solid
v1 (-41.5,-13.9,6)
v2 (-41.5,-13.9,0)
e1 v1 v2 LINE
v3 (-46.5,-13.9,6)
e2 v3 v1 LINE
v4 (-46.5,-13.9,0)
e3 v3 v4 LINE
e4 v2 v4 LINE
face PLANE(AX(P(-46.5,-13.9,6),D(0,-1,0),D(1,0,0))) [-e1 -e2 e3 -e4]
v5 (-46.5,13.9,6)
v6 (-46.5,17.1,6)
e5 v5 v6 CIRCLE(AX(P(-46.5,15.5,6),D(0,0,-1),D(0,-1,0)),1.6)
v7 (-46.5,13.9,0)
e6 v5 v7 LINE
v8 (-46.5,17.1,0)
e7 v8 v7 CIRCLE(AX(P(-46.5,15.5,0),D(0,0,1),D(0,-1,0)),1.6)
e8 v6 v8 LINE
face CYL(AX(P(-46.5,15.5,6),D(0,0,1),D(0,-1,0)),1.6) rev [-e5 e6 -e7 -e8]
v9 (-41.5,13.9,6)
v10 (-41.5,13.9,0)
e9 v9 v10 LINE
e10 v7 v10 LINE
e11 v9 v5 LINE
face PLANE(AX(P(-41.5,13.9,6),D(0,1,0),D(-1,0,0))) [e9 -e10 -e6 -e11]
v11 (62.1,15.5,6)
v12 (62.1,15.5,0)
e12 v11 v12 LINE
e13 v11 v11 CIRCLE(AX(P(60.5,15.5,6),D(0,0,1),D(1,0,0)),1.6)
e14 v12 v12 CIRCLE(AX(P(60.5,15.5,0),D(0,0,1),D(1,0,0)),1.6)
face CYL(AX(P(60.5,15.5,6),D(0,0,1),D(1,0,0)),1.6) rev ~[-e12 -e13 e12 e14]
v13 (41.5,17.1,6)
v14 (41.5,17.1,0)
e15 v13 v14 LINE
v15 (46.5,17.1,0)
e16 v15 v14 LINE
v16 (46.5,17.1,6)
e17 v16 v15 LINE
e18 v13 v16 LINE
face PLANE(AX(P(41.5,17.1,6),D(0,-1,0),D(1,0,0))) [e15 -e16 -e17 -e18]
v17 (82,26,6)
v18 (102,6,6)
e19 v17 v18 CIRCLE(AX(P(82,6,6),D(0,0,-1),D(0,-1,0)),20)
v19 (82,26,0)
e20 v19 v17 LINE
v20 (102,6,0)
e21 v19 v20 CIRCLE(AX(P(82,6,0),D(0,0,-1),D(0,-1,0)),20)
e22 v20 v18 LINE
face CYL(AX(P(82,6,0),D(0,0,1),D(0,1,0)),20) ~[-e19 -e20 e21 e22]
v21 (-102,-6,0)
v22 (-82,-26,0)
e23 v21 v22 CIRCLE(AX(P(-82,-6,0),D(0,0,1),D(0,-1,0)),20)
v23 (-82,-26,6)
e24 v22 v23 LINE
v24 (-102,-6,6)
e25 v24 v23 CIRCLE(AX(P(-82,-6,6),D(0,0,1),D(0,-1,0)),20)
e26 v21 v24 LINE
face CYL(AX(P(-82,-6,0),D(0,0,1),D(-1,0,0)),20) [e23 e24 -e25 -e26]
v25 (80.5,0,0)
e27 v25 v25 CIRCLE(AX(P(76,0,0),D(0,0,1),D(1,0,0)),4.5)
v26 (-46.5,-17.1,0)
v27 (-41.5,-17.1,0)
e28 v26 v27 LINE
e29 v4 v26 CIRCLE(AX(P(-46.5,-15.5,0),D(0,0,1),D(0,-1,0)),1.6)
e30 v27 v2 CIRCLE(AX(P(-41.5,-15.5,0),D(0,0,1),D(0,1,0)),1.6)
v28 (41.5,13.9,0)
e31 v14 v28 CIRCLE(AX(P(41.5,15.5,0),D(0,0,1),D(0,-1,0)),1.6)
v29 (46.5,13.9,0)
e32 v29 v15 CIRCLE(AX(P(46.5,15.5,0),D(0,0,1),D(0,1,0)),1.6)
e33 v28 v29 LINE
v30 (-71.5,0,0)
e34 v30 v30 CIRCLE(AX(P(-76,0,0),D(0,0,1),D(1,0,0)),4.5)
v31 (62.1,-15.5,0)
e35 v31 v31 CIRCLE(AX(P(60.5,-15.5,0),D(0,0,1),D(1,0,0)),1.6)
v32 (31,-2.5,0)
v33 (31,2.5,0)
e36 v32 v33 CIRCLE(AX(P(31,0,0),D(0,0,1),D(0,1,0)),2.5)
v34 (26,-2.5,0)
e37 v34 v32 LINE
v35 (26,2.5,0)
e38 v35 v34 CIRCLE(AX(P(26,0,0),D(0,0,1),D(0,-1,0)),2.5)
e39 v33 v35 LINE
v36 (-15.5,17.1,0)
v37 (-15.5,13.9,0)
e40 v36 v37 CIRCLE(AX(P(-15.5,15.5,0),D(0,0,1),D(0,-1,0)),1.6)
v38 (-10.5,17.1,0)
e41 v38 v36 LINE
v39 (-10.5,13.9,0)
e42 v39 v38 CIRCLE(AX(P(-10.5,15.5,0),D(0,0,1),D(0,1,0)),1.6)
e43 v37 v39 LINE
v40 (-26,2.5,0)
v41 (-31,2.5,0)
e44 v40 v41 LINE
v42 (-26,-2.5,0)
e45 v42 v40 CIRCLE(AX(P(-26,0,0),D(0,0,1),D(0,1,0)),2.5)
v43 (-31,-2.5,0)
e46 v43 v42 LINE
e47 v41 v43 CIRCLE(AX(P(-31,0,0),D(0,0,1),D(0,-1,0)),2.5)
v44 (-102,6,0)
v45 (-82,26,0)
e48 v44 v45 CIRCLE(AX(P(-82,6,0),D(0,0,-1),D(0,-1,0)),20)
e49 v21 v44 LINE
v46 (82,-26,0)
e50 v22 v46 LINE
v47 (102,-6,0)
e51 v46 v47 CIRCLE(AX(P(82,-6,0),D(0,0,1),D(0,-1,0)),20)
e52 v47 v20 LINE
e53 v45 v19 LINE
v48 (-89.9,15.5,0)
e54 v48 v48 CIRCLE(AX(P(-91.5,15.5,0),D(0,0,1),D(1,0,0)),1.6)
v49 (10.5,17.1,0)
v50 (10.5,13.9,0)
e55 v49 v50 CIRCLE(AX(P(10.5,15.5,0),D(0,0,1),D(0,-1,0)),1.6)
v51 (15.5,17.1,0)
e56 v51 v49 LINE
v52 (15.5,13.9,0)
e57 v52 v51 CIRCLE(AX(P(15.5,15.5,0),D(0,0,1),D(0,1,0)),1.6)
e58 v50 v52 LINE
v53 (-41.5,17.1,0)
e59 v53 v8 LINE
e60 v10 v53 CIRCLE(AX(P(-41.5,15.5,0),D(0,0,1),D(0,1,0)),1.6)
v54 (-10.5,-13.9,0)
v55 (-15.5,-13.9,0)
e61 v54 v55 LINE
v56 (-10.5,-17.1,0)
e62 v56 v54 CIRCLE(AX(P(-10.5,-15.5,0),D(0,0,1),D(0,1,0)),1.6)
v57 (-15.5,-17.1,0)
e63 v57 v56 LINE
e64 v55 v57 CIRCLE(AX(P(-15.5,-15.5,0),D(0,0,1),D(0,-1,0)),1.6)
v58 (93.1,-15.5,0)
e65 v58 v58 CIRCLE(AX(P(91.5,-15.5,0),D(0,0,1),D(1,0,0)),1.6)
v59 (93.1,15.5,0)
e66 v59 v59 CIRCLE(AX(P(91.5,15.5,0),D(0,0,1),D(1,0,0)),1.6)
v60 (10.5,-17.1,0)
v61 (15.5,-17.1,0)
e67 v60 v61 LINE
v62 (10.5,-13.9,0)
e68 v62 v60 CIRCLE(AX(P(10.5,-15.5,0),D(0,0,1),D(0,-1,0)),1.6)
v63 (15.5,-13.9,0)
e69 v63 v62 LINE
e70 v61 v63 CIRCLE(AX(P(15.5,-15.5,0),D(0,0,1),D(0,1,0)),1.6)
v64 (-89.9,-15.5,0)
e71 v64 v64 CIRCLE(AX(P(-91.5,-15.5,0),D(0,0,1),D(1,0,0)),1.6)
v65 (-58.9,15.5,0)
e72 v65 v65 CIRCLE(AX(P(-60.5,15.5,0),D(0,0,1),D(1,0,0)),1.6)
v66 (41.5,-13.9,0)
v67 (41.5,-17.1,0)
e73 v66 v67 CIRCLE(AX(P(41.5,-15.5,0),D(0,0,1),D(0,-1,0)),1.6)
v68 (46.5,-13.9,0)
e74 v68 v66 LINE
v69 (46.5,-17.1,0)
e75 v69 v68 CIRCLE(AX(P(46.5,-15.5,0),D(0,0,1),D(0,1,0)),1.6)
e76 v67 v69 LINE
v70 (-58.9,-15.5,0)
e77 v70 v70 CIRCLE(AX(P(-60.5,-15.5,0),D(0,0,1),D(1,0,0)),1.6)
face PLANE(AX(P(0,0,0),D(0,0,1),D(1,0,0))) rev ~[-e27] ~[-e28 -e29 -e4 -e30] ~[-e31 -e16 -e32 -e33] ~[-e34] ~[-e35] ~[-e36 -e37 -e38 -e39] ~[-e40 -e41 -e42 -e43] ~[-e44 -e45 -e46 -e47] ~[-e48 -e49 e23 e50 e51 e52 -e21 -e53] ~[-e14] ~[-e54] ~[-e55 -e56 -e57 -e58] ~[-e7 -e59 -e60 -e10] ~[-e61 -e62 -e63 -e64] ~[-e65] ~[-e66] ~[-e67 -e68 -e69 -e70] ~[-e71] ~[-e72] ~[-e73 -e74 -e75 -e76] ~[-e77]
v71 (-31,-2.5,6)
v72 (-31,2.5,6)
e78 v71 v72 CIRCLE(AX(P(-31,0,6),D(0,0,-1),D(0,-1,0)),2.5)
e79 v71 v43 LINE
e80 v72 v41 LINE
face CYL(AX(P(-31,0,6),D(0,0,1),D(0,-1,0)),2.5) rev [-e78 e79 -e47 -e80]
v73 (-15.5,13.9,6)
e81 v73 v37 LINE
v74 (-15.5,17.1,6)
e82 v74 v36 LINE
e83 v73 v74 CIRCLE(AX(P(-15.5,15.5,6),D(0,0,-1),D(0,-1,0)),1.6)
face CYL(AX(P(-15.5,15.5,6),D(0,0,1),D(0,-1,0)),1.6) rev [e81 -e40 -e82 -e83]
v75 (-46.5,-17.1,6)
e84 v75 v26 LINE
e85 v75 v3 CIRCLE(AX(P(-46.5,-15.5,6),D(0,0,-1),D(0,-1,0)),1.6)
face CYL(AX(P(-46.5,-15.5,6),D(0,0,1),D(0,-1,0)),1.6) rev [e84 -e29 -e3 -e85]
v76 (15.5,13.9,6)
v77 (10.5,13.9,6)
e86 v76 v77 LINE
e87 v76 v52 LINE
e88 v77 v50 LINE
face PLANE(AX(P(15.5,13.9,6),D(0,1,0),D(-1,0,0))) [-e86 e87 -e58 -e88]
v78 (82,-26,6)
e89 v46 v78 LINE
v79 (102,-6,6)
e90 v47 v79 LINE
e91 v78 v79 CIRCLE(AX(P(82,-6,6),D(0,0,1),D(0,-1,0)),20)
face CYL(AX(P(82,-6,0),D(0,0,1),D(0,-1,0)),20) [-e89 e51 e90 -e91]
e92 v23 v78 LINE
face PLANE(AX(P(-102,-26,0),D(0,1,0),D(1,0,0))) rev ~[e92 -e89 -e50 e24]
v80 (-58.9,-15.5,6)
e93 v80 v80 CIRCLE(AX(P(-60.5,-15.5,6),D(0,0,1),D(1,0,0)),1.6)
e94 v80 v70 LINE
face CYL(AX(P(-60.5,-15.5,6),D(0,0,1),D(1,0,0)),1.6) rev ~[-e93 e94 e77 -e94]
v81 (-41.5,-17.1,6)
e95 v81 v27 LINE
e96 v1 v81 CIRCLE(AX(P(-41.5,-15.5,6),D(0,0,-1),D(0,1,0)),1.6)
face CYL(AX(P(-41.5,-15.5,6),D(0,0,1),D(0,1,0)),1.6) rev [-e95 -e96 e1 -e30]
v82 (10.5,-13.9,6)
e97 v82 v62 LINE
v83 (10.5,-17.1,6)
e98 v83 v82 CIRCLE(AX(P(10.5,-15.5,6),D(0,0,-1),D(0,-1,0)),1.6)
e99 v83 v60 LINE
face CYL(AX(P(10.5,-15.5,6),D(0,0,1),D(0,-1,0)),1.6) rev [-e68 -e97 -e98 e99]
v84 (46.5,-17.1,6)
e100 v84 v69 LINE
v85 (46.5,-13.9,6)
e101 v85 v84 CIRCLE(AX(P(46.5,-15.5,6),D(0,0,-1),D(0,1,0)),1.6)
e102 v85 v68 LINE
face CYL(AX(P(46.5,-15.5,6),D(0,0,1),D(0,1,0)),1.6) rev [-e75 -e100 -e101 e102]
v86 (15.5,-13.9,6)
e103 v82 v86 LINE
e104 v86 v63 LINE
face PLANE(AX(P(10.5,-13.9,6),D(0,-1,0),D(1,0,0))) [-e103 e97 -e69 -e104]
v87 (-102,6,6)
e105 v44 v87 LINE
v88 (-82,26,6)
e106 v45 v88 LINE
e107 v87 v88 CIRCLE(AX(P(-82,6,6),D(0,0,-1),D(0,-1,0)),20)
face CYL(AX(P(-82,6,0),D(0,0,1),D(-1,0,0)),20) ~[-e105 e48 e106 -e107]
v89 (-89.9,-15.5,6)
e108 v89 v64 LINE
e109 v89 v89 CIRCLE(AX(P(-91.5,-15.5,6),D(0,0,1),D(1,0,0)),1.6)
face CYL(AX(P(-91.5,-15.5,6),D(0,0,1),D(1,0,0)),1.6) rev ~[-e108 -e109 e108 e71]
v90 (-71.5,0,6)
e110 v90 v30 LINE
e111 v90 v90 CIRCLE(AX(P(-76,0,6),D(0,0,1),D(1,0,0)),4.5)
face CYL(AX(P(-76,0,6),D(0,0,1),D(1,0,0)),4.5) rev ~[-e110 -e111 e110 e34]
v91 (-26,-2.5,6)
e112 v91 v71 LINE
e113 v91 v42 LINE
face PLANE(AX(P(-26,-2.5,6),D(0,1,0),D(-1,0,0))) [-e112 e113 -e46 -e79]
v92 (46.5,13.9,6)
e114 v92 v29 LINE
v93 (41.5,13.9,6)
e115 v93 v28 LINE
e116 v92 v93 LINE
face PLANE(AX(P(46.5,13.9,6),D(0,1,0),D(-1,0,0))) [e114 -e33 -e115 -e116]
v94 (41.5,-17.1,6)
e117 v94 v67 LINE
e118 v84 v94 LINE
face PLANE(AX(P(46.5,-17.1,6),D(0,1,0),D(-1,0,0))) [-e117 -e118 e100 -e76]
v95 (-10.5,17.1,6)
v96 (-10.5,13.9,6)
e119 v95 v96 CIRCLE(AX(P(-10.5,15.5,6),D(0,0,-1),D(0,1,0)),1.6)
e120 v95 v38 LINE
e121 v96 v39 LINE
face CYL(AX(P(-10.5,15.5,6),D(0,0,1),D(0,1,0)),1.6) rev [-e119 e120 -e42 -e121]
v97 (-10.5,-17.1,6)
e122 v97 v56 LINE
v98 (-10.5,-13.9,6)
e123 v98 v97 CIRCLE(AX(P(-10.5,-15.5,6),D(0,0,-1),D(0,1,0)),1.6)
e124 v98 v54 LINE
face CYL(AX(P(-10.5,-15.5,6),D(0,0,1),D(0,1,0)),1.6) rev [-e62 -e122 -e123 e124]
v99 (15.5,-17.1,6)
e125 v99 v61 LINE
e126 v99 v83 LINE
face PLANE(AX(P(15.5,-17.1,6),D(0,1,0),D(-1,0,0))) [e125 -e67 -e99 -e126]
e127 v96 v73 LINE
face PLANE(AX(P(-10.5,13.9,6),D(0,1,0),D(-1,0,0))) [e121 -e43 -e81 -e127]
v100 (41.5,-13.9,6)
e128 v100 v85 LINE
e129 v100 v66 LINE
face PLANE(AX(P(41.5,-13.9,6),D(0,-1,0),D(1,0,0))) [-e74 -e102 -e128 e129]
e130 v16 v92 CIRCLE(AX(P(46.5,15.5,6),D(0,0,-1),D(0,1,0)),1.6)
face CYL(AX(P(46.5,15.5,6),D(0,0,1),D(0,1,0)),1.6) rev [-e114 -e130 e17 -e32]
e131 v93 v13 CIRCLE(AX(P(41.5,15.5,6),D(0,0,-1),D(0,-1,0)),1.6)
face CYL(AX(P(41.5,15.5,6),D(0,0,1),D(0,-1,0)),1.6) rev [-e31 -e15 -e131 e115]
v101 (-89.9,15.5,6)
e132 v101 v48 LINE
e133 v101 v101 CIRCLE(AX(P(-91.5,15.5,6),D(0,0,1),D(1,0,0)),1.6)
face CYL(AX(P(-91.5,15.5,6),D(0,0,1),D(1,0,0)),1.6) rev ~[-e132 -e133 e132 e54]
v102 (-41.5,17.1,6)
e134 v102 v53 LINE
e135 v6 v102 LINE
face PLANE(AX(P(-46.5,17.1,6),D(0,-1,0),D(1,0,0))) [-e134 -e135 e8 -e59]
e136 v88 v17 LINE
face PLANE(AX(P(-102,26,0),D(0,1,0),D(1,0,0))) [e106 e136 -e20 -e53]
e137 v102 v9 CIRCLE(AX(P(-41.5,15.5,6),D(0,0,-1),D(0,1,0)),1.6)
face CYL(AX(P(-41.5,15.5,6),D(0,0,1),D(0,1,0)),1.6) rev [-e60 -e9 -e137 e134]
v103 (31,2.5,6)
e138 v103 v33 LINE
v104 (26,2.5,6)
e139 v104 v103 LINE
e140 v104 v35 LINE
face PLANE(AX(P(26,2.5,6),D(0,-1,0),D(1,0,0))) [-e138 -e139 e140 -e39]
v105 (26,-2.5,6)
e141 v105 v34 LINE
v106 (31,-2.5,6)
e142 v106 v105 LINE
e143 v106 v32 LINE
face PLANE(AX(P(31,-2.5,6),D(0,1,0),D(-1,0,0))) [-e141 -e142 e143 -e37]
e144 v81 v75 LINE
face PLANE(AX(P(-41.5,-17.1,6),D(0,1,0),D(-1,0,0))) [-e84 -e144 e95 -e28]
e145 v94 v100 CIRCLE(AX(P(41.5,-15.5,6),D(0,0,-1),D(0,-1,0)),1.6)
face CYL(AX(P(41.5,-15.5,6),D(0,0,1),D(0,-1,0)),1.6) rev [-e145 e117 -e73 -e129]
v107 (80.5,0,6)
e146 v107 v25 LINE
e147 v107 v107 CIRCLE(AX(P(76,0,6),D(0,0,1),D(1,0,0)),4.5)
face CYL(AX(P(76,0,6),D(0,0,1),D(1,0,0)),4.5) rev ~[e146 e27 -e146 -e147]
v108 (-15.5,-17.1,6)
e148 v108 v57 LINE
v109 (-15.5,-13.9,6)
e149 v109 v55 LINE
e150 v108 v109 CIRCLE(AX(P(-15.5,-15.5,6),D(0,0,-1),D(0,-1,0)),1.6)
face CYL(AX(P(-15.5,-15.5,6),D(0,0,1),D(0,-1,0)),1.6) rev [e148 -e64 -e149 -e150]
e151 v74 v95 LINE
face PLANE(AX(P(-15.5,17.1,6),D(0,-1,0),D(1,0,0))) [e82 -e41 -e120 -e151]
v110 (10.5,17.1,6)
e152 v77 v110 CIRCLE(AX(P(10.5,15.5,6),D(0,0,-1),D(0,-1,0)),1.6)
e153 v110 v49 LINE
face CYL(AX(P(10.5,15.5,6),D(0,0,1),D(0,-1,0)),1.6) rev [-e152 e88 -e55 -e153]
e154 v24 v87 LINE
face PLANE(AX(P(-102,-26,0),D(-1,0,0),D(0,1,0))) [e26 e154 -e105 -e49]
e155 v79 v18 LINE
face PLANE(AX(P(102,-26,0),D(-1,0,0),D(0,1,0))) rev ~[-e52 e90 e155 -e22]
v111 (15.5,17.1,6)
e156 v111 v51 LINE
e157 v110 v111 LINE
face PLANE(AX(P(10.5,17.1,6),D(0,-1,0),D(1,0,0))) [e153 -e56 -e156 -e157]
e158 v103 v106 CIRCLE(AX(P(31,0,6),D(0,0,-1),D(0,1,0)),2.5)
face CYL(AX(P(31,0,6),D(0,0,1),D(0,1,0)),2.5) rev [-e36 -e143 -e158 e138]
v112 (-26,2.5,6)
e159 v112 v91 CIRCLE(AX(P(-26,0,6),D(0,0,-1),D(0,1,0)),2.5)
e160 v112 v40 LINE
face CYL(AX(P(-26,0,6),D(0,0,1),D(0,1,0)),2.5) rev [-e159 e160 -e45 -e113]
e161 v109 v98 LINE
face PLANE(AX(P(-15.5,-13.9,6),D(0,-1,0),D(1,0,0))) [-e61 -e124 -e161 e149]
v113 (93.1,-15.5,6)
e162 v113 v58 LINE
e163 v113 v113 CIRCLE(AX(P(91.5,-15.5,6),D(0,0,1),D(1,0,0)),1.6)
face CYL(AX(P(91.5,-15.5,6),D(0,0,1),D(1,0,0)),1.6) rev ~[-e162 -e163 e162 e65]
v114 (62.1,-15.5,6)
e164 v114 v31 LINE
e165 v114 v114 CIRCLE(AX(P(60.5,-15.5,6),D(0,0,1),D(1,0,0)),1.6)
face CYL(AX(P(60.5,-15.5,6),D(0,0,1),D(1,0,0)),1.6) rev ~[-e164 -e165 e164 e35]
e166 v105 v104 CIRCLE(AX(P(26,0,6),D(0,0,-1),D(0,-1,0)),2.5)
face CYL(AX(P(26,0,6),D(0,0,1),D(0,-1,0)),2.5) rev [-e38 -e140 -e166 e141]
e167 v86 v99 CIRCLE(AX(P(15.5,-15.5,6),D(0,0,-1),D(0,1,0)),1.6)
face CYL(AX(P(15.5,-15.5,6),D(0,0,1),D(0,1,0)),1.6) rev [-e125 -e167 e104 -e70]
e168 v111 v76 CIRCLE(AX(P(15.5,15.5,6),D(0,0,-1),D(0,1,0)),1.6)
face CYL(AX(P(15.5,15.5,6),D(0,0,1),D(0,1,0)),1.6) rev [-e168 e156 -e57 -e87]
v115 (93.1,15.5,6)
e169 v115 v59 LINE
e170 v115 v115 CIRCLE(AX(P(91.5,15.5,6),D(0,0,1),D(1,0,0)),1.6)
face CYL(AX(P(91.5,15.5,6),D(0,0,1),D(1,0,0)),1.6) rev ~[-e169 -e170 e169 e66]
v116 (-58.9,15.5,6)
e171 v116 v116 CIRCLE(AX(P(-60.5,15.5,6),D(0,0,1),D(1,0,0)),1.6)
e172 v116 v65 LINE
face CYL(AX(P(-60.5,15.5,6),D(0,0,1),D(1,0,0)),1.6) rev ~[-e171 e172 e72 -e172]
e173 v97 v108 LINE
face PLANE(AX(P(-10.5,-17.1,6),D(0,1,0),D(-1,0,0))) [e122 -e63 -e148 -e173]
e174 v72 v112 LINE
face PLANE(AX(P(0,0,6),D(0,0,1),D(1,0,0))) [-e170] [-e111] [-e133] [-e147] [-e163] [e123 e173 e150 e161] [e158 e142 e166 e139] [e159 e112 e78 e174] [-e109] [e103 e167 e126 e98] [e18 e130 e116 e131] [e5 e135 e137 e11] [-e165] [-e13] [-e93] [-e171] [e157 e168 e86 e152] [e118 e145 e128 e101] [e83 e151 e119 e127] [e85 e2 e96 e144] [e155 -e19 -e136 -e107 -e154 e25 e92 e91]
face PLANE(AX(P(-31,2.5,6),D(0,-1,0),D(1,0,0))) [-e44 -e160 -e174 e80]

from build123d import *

# Parameters (mm, degrees)
SKETCH_1_W          = 204
SKETCH_1_H          = 52
EXTRUDE_1_DEPTH     = 6
CUT_EXTRUDE_1_REACH = 107.432
SKETCH_2_R          = 1.6
SKETCH_2_R_2        = 4.5
FILLET_3_R          = 20


with BuildPart() as part:
    # 草图1 → 凸台-拉伸1 (new body)
    with BuildSketch(Plane.XY):
        Rectangle(SKETCH_1_W, SKETCH_1_H)
    extrude(amount=EXTRUDE_1_DEPTH)

    # 草图2 → 切除-拉伸1 (cut, up to next)
    with BuildSketch(Plane.XY.offset(6), mode=Mode.PRIVATE) as cut_extrude_1_sk1:
        with Locations((-91.5, 15.5)):
            Circle(SKETCH_2_R)
    cut_extrude_1_tool1 = extrude(cut_extrude_1_sk1.sketch, amount=-CUT_EXTRUDE_1_REACH, mode=Mode.PRIVATE) & part.part
    # 草图2 → 切除-拉伸1 (cut, up to next)
    with BuildSketch(Plane.XY.offset(6), mode=Mode.PRIVATE) as cut_extrude_1_sk2:
        with Locations((-60.5, 15.5)):
            Circle(SKETCH_2_R)
    cut_extrude_1_tool2 = extrude(cut_extrude_1_sk2.sketch, amount=-CUT_EXTRUDE_1_REACH, mode=Mode.PRIVATE) & part.part
    # 草图2 → 切除-拉伸1 (cut, up to next)
    with BuildSketch(Plane.XY.offset(6), mode=Mode.PRIVATE) as cut_extrude_1_sk3:
        with Locations((-91.5, -15.5)):
            Circle(SKETCH_2_R)
    cut_extrude_1_tool3 = extrude(cut_extrude_1_sk3.sketch, amount=-CUT_EXTRUDE_1_REACH, mode=Mode.PRIVATE) & part.part
    # 草图2 → 切除-拉伸1 (cut, up to next)
    with BuildSketch(Plane.XY.offset(6), mode=Mode.PRIVATE) as cut_extrude_1_sk4:
        with Locations((-60.5, -15.5)):
            Circle(SKETCH_2_R)
    cut_extrude_1_tool4 = extrude(cut_extrude_1_sk4.sketch, amount=-CUT_EXTRUDE_1_REACH, mode=Mode.PRIVATE) & part.part
    # 草图2 → 切除-拉伸1 (cut, up to next)
    with BuildSketch(Plane.XY.offset(6), mode=Mode.PRIVATE) as cut_extrude_1_sk5:
        with Locations((60.5, 15.5)):
            Circle(SKETCH_2_R)
    cut_extrude_1_tool5 = extrude(cut_extrude_1_sk5.sketch, amount=-CUT_EXTRUDE_1_REACH, mode=Mode.PRIVATE) & part.part
    # 草图2 → 切除-拉伸1 (cut, up to next)
    with BuildSketch(Plane.XY.offset(6), mode=Mode.PRIVATE) as cut_extrude_1_sk6:
        with Locations((91.5, 15.5)):
            Circle(SKETCH_2_R)
    cut_extrude_1_tool6 = extrude(cut_extrude_1_sk6.sketch, amount=-CUT_EXTRUDE_1_REACH, mode=Mode.PRIVATE) & part.part
    # 草图2 → 切除-拉伸1 (cut, up to next)
    with BuildSketch(Plane.XY.offset(6), mode=Mode.PRIVATE) as cut_extrude_1_sk7:
        with Locations((91.5, -15.5)):
            Circle(SKETCH_2_R)
    cut_extrude_1_tool7 = extrude(cut_extrude_1_sk7.sketch, amount=-CUT_EXTRUDE_1_REACH, mode=Mode.PRIVATE) & part.part
    # 草图2 → 切除-拉伸1 (cut, up to next)
    with BuildSketch(Plane.XY.offset(6), mode=Mode.PRIVATE) as cut_extrude_1_sk8:
        with Locations((60.5, -15.5)):
            Circle(SKETCH_2_R)
    cut_extrude_1_tool8 = extrude(cut_extrude_1_sk8.sketch, amount=-CUT_EXTRUDE_1_REACH, mode=Mode.PRIVATE) & part.part
    # 草图2 → 切除-拉伸1 (cut, up to next)
    with BuildSketch(Plane.XY.offset(6), mode=Mode.PRIVATE) as cut_extrude_1_sk9:
        with Locations((-76, 0)):
            Circle(SKETCH_2_R_2)
    cut_extrude_1_tool9 = extrude(cut_extrude_1_sk9.sketch, amount=-CUT_EXTRUDE_1_REACH, mode=Mode.PRIVATE) & part.part
    # 草图2 → 切除-拉伸1 (cut, up to next)
    with BuildSketch(Plane.XY.offset(6), mode=Mode.PRIVATE) as cut_extrude_1_sk10:
        with Locations((76, 0)):
            Circle(SKETCH_2_R_2)
    cut_extrude_1_tool10 = extrude(cut_extrude_1_sk10.sketch, amount=-CUT_EXTRUDE_1_REACH, mode=Mode.PRIVATE) & part.part
    # 草图2 → 切除-拉伸1 (cut, up to next)
    with BuildSketch(Plane.XY.offset(6), mode=Mode.PRIVATE) as cut_extrude_1_sk11:
        with BuildLine():
            Line((-46.5, 17.1), (-41.5, 17.1))
            ThreePointArc((-41.5, 17.1), (-39.9, 15.5), (-41.5, 13.9))
            Line((-41.5, 13.9), (-46.5, 13.9))
            ThreePointArc((-46.5, 13.9), (-48.1, 15.5), (-46.5, 17.1))
        make_face()
    cut_extrude_1_tool11 = extrude(cut_extrude_1_sk11.sketch, amount=-CUT_EXTRUDE_1_REACH, mode=Mode.PRIVATE) & part.part
    # 草图2 → 切除-拉伸1 (cut, up to next)
    with BuildSketch(Plane.XY.offset(6), mode=Mode.PRIVATE) as cut_extrude_1_sk12:
        with BuildLine():
            Line((-15.5, 17.1), (-10.5, 17.1))
            ThreePointArc((-10.5, 17.1), (-8.9, 15.5), (-10.5, 13.9))
            Line((-10.5, 13.9), (-15.5, 13.9))
            ThreePointArc((-15.5, 13.9), (-17.1, 15.5), (-15.5, 17.1))
        make_face()
    cut_extrude_1_tool12 = extrude(cut_extrude_1_sk12.sketch, amount=-CUT_EXTRUDE_1_REACH, mode=Mode.PRIVATE) & part.part
    # 草图2 → 切除-拉伸1 (cut, up to next)
    with BuildSketch(Plane.XY.offset(6), mode=Mode.PRIVATE) as cut_extrude_1_sk13:
        with BuildLine():
            Line((-46.5, -13.9), (-41.5, -13.9))
            ThreePointArc((-41.5, -13.9), (-39.9, -15.5), (-41.5, -17.1))
            Line((-41.5, -17.1), (-46.5, -17.1))
            ThreePointArc((-46.5, -17.1), (-48.1, -15.5), (-46.5, -13.9))
        make_face()
    cut_extrude_1_tool13 = extrude(cut_extrude_1_sk13.sketch, amount=-CUT_EXTRUDE_1_REACH, mode=Mode.PRIVATE) & part.part
    # 草图2 → 切除-拉伸1 (cut, up to next)
    with BuildSketch(Plane.XY.offset(6), mode=Mode.PRIVATE) as cut_extrude_1_sk14:
        with BuildLine():
            Line((-15.5, -13.9), (-10.5, -13.9))
            ThreePointArc((-10.5, -13.9), (-8.9, -15.5), (-10.5, -17.1))
            Line((-10.5, -17.1), (-15.5, -17.1))
            ThreePointArc((-15.5, -17.1), (-17.1, -15.5), (-15.5, -13.9))
        make_face()
    cut_extrude_1_tool14 = extrude(cut_extrude_1_sk14.sketch, amount=-CUT_EXTRUDE_1_REACH, mode=Mode.PRIVATE) & part.part
    # 草图2 → 切除-拉伸1 (cut, up to next)
    with BuildSketch(Plane.XY.offset(6), mode=Mode.PRIVATE) as cut_extrude_1_sk15:
        with BuildLine():
            Line((10.5, 17.1), (15.5, 17.1))
            ThreePointArc((15.5, 17.1), (17.1, 15.5), (15.5, 13.9))
            Line((15.5, 13.9), (10.5, 13.9))
            ThreePointArc((10.5, 13.9), (8.9, 15.5), (10.5, 17.1))
        make_face()
    cut_extrude_1_tool15 = extrude(cut_extrude_1_sk15.sketch, amount=-CUT_EXTRUDE_1_REACH, mode=Mode.PRIVATE) & part.part
    # 草图2 → 切除-拉伸1 (cut, up to next)
    with BuildSketch(Plane.XY.offset(6), mode=Mode.PRIVATE) as cut_extrude_1_sk16:
        with BuildLine():
            Line((41.5, 17.1), (46.5, 17.1))
            ThreePointArc((46.5, 17.1), (48.1, 15.5), (46.5, 13.9))
            Line((46.5, 13.9), (41.5, 13.9))
            ThreePointArc((41.5, 13.9), (39.9, 15.5), (41.5, 17.1))
        make_face()
    cut_extrude_1_tool16 = extrude(cut_extrude_1_sk16.sketch, amount=-CUT_EXTRUDE_1_REACH, mode=Mode.PRIVATE) & part.part
    # 草图2 → 切除-拉伸1 (cut, up to next)
    with BuildSketch(Plane.XY.offset(6), mode=Mode.PRIVATE) as cut_extrude_1_sk17:
        with BuildLine():
            Line((10.5, -13.9), (15.5, -13.9))
            ThreePointArc((15.5, -13.9), (17.1, -15.5), (15.5, -17.1))
            Line((15.5, -17.1), (10.5, -17.1))
            ThreePointArc((10.5, -17.1), (8.9, -15.5), (10.5, -13.9))
        make_face()
    cut_extrude_1_tool17 = extrude(cut_extrude_1_sk17.sketch, amount=-CUT_EXTRUDE_1_REACH, mode=Mode.PRIVATE) & part.part
    # 草图2 → 切除-拉伸1 (cut, up to next)
    with BuildSketch(Plane.XY.offset(6), mode=Mode.PRIVATE) as cut_extrude_1_sk18:
        with BuildLine():
            Line((41.5, -13.9), (46.5, -13.9))
            ThreePointArc((46.5, -13.9), (48.1, -15.5), (46.5, -17.1))
            Line((46.5, -17.1), (41.5, -17.1))
            ThreePointArc((41.5, -17.1), (39.9, -15.5), (41.5, -13.9))
        make_face()
    cut_extrude_1_tool18 = extrude(cut_extrude_1_sk18.sketch, amount=-CUT_EXTRUDE_1_REACH, mode=Mode.PRIVATE) & part.part
    # 草图2 → 切除-拉伸1 (cut, up to next)
    with BuildSketch(Plane.XY.offset(6), mode=Mode.PRIVATE) as cut_extrude_1_sk19:
        with BuildLine():
            Line((-31, 2.5), (-26, 2.5))
            ThreePointArc((-26, 2.5), (-23.5, 0), (-26, -2.5))
            Line((-26, -2.5), (-31, -2.5))
            ThreePointArc((-31, -2.5), (-33.5, 0), (-31, 2.5))
        make_face()
    cut_extrude_1_tool19 = extrude(cut_extrude_1_sk19.sketch, amount=-CUT_EXTRUDE_1_REACH, mode=Mode.PRIVATE) & part.part
    # 草图2 → 切除-拉伸1 (cut, up to next)
    with BuildSketch(Plane.XY.offset(6), mode=Mode.PRIVATE) as cut_extrude_1_sk20:
        with BuildLine():
            Line((26, 2.5), (31, 2.5))
            ThreePointArc((31, 2.5), (33.5, 0), (31, -2.5))
            Line((31, -2.5), (26, -2.5))
            ThreePointArc((26, -2.5), (23.5, 0), (26, 2.5))
        make_face()
    cut_extrude_1_tool20 = extrude(cut_extrude_1_sk20.sketch, amount=-CUT_EXTRUDE_1_REACH, mode=Mode.PRIVATE) & part.part
    add(cut_extrude_1_tool1.solids().sort_by_distance((-91.5, 15.5, 6))[0], mode=Mode.SUBTRACT)
    add(cut_extrude_1_tool2.solids().sort_by_distance((-60.5, 15.5, 6))[0], mode=Mode.SUBTRACT)
    add(cut_extrude_1_tool3.solids().sort_by_distance((-91.5, -15.5, 6))[0], mode=Mode.SUBTRACT)
    add(cut_extrude_1_tool4.solids().sort_by_distance((-60.5, -15.5, 6))[0], mode=Mode.SUBTRACT)
    add(cut_extrude_1_tool5.solids().sort_by_distance((60.5, 15.5, 6))[0], mode=Mode.SUBTRACT)
    add(cut_extrude_1_tool6.solids().sort_by_distance((91.5, 15.5, 6))[0], mode=Mode.SUBTRACT)
    add(cut_extrude_1_tool7.solids().sort_by_distance((91.5, -15.5, 6))[0], mode=Mode.SUBTRACT)
    add(cut_extrude_1_tool8.solids().sort_by_distance((60.5, -15.5, 6))[0], mode=Mode.SUBTRACT)
    add(cut_extrude_1_tool9.solids().sort_by_distance((-76, 0, 6))[0], mode=Mode.SUBTRACT)
    add(cut_extrude_1_tool10.solids().sort_by_distance((76, 0, 6))[0], mode=Mode.SUBTRACT)
    add(cut_extrude_1_tool11.solids().sort_by_distance((-44, 15.5, 6))[0], mode=Mode.SUBTRACT)
    add(cut_extrude_1_tool12.solids().sort_by_distance((-13, 15.5, 6))[0], mode=Mode.SUBTRACT)
    add(cut_extrude_1_tool13.solids().sort_by_distance((-44, -15.5, 6))[0], mode=Mode.SUBTRACT)
    add(cut_extrude_1_tool14.solids().sort_by_distance((-13, -15.5, 6))[0], mode=Mode.SUBTRACT)
    add(cut_extrude_1_tool15.solids().sort_by_distance((13, 15.5, 6))[0], mode=Mode.SUBTRACT)
    add(cut_extrude_1_tool16.solids().sort_by_distance((44, 15.5, 6))[0], mode=Mode.SUBTRACT)
    add(cut_extrude_1_tool17.solids().sort_by_distance((13, -15.5, 6))[0], mode=Mode.SUBTRACT)
    add(cut_extrude_1_tool18.solids().sort_by_distance((44, -15.5, 6))[0], mode=Mode.SUBTRACT)
    add(cut_extrude_1_tool19.solids().sort_by_distance((-28.5, 0, 6))[0], mode=Mode.SUBTRACT)
    add(cut_extrude_1_tool20.solids().sort_by_distance((28.5, 0, 6))[0], mode=Mode.SUBTRACT)

    # 圆角3
    fillet_3_edges = [part.edges().sort_by_distance(p)[0] for p in [
        (-102, 26, 3),
        (102, 26, 3),
        (102, -26, 3),
        (-102, -26, 3),
    ]]
    fillet(fillet_3_edges, radius=FILLET_3_R)


solid = part.part
